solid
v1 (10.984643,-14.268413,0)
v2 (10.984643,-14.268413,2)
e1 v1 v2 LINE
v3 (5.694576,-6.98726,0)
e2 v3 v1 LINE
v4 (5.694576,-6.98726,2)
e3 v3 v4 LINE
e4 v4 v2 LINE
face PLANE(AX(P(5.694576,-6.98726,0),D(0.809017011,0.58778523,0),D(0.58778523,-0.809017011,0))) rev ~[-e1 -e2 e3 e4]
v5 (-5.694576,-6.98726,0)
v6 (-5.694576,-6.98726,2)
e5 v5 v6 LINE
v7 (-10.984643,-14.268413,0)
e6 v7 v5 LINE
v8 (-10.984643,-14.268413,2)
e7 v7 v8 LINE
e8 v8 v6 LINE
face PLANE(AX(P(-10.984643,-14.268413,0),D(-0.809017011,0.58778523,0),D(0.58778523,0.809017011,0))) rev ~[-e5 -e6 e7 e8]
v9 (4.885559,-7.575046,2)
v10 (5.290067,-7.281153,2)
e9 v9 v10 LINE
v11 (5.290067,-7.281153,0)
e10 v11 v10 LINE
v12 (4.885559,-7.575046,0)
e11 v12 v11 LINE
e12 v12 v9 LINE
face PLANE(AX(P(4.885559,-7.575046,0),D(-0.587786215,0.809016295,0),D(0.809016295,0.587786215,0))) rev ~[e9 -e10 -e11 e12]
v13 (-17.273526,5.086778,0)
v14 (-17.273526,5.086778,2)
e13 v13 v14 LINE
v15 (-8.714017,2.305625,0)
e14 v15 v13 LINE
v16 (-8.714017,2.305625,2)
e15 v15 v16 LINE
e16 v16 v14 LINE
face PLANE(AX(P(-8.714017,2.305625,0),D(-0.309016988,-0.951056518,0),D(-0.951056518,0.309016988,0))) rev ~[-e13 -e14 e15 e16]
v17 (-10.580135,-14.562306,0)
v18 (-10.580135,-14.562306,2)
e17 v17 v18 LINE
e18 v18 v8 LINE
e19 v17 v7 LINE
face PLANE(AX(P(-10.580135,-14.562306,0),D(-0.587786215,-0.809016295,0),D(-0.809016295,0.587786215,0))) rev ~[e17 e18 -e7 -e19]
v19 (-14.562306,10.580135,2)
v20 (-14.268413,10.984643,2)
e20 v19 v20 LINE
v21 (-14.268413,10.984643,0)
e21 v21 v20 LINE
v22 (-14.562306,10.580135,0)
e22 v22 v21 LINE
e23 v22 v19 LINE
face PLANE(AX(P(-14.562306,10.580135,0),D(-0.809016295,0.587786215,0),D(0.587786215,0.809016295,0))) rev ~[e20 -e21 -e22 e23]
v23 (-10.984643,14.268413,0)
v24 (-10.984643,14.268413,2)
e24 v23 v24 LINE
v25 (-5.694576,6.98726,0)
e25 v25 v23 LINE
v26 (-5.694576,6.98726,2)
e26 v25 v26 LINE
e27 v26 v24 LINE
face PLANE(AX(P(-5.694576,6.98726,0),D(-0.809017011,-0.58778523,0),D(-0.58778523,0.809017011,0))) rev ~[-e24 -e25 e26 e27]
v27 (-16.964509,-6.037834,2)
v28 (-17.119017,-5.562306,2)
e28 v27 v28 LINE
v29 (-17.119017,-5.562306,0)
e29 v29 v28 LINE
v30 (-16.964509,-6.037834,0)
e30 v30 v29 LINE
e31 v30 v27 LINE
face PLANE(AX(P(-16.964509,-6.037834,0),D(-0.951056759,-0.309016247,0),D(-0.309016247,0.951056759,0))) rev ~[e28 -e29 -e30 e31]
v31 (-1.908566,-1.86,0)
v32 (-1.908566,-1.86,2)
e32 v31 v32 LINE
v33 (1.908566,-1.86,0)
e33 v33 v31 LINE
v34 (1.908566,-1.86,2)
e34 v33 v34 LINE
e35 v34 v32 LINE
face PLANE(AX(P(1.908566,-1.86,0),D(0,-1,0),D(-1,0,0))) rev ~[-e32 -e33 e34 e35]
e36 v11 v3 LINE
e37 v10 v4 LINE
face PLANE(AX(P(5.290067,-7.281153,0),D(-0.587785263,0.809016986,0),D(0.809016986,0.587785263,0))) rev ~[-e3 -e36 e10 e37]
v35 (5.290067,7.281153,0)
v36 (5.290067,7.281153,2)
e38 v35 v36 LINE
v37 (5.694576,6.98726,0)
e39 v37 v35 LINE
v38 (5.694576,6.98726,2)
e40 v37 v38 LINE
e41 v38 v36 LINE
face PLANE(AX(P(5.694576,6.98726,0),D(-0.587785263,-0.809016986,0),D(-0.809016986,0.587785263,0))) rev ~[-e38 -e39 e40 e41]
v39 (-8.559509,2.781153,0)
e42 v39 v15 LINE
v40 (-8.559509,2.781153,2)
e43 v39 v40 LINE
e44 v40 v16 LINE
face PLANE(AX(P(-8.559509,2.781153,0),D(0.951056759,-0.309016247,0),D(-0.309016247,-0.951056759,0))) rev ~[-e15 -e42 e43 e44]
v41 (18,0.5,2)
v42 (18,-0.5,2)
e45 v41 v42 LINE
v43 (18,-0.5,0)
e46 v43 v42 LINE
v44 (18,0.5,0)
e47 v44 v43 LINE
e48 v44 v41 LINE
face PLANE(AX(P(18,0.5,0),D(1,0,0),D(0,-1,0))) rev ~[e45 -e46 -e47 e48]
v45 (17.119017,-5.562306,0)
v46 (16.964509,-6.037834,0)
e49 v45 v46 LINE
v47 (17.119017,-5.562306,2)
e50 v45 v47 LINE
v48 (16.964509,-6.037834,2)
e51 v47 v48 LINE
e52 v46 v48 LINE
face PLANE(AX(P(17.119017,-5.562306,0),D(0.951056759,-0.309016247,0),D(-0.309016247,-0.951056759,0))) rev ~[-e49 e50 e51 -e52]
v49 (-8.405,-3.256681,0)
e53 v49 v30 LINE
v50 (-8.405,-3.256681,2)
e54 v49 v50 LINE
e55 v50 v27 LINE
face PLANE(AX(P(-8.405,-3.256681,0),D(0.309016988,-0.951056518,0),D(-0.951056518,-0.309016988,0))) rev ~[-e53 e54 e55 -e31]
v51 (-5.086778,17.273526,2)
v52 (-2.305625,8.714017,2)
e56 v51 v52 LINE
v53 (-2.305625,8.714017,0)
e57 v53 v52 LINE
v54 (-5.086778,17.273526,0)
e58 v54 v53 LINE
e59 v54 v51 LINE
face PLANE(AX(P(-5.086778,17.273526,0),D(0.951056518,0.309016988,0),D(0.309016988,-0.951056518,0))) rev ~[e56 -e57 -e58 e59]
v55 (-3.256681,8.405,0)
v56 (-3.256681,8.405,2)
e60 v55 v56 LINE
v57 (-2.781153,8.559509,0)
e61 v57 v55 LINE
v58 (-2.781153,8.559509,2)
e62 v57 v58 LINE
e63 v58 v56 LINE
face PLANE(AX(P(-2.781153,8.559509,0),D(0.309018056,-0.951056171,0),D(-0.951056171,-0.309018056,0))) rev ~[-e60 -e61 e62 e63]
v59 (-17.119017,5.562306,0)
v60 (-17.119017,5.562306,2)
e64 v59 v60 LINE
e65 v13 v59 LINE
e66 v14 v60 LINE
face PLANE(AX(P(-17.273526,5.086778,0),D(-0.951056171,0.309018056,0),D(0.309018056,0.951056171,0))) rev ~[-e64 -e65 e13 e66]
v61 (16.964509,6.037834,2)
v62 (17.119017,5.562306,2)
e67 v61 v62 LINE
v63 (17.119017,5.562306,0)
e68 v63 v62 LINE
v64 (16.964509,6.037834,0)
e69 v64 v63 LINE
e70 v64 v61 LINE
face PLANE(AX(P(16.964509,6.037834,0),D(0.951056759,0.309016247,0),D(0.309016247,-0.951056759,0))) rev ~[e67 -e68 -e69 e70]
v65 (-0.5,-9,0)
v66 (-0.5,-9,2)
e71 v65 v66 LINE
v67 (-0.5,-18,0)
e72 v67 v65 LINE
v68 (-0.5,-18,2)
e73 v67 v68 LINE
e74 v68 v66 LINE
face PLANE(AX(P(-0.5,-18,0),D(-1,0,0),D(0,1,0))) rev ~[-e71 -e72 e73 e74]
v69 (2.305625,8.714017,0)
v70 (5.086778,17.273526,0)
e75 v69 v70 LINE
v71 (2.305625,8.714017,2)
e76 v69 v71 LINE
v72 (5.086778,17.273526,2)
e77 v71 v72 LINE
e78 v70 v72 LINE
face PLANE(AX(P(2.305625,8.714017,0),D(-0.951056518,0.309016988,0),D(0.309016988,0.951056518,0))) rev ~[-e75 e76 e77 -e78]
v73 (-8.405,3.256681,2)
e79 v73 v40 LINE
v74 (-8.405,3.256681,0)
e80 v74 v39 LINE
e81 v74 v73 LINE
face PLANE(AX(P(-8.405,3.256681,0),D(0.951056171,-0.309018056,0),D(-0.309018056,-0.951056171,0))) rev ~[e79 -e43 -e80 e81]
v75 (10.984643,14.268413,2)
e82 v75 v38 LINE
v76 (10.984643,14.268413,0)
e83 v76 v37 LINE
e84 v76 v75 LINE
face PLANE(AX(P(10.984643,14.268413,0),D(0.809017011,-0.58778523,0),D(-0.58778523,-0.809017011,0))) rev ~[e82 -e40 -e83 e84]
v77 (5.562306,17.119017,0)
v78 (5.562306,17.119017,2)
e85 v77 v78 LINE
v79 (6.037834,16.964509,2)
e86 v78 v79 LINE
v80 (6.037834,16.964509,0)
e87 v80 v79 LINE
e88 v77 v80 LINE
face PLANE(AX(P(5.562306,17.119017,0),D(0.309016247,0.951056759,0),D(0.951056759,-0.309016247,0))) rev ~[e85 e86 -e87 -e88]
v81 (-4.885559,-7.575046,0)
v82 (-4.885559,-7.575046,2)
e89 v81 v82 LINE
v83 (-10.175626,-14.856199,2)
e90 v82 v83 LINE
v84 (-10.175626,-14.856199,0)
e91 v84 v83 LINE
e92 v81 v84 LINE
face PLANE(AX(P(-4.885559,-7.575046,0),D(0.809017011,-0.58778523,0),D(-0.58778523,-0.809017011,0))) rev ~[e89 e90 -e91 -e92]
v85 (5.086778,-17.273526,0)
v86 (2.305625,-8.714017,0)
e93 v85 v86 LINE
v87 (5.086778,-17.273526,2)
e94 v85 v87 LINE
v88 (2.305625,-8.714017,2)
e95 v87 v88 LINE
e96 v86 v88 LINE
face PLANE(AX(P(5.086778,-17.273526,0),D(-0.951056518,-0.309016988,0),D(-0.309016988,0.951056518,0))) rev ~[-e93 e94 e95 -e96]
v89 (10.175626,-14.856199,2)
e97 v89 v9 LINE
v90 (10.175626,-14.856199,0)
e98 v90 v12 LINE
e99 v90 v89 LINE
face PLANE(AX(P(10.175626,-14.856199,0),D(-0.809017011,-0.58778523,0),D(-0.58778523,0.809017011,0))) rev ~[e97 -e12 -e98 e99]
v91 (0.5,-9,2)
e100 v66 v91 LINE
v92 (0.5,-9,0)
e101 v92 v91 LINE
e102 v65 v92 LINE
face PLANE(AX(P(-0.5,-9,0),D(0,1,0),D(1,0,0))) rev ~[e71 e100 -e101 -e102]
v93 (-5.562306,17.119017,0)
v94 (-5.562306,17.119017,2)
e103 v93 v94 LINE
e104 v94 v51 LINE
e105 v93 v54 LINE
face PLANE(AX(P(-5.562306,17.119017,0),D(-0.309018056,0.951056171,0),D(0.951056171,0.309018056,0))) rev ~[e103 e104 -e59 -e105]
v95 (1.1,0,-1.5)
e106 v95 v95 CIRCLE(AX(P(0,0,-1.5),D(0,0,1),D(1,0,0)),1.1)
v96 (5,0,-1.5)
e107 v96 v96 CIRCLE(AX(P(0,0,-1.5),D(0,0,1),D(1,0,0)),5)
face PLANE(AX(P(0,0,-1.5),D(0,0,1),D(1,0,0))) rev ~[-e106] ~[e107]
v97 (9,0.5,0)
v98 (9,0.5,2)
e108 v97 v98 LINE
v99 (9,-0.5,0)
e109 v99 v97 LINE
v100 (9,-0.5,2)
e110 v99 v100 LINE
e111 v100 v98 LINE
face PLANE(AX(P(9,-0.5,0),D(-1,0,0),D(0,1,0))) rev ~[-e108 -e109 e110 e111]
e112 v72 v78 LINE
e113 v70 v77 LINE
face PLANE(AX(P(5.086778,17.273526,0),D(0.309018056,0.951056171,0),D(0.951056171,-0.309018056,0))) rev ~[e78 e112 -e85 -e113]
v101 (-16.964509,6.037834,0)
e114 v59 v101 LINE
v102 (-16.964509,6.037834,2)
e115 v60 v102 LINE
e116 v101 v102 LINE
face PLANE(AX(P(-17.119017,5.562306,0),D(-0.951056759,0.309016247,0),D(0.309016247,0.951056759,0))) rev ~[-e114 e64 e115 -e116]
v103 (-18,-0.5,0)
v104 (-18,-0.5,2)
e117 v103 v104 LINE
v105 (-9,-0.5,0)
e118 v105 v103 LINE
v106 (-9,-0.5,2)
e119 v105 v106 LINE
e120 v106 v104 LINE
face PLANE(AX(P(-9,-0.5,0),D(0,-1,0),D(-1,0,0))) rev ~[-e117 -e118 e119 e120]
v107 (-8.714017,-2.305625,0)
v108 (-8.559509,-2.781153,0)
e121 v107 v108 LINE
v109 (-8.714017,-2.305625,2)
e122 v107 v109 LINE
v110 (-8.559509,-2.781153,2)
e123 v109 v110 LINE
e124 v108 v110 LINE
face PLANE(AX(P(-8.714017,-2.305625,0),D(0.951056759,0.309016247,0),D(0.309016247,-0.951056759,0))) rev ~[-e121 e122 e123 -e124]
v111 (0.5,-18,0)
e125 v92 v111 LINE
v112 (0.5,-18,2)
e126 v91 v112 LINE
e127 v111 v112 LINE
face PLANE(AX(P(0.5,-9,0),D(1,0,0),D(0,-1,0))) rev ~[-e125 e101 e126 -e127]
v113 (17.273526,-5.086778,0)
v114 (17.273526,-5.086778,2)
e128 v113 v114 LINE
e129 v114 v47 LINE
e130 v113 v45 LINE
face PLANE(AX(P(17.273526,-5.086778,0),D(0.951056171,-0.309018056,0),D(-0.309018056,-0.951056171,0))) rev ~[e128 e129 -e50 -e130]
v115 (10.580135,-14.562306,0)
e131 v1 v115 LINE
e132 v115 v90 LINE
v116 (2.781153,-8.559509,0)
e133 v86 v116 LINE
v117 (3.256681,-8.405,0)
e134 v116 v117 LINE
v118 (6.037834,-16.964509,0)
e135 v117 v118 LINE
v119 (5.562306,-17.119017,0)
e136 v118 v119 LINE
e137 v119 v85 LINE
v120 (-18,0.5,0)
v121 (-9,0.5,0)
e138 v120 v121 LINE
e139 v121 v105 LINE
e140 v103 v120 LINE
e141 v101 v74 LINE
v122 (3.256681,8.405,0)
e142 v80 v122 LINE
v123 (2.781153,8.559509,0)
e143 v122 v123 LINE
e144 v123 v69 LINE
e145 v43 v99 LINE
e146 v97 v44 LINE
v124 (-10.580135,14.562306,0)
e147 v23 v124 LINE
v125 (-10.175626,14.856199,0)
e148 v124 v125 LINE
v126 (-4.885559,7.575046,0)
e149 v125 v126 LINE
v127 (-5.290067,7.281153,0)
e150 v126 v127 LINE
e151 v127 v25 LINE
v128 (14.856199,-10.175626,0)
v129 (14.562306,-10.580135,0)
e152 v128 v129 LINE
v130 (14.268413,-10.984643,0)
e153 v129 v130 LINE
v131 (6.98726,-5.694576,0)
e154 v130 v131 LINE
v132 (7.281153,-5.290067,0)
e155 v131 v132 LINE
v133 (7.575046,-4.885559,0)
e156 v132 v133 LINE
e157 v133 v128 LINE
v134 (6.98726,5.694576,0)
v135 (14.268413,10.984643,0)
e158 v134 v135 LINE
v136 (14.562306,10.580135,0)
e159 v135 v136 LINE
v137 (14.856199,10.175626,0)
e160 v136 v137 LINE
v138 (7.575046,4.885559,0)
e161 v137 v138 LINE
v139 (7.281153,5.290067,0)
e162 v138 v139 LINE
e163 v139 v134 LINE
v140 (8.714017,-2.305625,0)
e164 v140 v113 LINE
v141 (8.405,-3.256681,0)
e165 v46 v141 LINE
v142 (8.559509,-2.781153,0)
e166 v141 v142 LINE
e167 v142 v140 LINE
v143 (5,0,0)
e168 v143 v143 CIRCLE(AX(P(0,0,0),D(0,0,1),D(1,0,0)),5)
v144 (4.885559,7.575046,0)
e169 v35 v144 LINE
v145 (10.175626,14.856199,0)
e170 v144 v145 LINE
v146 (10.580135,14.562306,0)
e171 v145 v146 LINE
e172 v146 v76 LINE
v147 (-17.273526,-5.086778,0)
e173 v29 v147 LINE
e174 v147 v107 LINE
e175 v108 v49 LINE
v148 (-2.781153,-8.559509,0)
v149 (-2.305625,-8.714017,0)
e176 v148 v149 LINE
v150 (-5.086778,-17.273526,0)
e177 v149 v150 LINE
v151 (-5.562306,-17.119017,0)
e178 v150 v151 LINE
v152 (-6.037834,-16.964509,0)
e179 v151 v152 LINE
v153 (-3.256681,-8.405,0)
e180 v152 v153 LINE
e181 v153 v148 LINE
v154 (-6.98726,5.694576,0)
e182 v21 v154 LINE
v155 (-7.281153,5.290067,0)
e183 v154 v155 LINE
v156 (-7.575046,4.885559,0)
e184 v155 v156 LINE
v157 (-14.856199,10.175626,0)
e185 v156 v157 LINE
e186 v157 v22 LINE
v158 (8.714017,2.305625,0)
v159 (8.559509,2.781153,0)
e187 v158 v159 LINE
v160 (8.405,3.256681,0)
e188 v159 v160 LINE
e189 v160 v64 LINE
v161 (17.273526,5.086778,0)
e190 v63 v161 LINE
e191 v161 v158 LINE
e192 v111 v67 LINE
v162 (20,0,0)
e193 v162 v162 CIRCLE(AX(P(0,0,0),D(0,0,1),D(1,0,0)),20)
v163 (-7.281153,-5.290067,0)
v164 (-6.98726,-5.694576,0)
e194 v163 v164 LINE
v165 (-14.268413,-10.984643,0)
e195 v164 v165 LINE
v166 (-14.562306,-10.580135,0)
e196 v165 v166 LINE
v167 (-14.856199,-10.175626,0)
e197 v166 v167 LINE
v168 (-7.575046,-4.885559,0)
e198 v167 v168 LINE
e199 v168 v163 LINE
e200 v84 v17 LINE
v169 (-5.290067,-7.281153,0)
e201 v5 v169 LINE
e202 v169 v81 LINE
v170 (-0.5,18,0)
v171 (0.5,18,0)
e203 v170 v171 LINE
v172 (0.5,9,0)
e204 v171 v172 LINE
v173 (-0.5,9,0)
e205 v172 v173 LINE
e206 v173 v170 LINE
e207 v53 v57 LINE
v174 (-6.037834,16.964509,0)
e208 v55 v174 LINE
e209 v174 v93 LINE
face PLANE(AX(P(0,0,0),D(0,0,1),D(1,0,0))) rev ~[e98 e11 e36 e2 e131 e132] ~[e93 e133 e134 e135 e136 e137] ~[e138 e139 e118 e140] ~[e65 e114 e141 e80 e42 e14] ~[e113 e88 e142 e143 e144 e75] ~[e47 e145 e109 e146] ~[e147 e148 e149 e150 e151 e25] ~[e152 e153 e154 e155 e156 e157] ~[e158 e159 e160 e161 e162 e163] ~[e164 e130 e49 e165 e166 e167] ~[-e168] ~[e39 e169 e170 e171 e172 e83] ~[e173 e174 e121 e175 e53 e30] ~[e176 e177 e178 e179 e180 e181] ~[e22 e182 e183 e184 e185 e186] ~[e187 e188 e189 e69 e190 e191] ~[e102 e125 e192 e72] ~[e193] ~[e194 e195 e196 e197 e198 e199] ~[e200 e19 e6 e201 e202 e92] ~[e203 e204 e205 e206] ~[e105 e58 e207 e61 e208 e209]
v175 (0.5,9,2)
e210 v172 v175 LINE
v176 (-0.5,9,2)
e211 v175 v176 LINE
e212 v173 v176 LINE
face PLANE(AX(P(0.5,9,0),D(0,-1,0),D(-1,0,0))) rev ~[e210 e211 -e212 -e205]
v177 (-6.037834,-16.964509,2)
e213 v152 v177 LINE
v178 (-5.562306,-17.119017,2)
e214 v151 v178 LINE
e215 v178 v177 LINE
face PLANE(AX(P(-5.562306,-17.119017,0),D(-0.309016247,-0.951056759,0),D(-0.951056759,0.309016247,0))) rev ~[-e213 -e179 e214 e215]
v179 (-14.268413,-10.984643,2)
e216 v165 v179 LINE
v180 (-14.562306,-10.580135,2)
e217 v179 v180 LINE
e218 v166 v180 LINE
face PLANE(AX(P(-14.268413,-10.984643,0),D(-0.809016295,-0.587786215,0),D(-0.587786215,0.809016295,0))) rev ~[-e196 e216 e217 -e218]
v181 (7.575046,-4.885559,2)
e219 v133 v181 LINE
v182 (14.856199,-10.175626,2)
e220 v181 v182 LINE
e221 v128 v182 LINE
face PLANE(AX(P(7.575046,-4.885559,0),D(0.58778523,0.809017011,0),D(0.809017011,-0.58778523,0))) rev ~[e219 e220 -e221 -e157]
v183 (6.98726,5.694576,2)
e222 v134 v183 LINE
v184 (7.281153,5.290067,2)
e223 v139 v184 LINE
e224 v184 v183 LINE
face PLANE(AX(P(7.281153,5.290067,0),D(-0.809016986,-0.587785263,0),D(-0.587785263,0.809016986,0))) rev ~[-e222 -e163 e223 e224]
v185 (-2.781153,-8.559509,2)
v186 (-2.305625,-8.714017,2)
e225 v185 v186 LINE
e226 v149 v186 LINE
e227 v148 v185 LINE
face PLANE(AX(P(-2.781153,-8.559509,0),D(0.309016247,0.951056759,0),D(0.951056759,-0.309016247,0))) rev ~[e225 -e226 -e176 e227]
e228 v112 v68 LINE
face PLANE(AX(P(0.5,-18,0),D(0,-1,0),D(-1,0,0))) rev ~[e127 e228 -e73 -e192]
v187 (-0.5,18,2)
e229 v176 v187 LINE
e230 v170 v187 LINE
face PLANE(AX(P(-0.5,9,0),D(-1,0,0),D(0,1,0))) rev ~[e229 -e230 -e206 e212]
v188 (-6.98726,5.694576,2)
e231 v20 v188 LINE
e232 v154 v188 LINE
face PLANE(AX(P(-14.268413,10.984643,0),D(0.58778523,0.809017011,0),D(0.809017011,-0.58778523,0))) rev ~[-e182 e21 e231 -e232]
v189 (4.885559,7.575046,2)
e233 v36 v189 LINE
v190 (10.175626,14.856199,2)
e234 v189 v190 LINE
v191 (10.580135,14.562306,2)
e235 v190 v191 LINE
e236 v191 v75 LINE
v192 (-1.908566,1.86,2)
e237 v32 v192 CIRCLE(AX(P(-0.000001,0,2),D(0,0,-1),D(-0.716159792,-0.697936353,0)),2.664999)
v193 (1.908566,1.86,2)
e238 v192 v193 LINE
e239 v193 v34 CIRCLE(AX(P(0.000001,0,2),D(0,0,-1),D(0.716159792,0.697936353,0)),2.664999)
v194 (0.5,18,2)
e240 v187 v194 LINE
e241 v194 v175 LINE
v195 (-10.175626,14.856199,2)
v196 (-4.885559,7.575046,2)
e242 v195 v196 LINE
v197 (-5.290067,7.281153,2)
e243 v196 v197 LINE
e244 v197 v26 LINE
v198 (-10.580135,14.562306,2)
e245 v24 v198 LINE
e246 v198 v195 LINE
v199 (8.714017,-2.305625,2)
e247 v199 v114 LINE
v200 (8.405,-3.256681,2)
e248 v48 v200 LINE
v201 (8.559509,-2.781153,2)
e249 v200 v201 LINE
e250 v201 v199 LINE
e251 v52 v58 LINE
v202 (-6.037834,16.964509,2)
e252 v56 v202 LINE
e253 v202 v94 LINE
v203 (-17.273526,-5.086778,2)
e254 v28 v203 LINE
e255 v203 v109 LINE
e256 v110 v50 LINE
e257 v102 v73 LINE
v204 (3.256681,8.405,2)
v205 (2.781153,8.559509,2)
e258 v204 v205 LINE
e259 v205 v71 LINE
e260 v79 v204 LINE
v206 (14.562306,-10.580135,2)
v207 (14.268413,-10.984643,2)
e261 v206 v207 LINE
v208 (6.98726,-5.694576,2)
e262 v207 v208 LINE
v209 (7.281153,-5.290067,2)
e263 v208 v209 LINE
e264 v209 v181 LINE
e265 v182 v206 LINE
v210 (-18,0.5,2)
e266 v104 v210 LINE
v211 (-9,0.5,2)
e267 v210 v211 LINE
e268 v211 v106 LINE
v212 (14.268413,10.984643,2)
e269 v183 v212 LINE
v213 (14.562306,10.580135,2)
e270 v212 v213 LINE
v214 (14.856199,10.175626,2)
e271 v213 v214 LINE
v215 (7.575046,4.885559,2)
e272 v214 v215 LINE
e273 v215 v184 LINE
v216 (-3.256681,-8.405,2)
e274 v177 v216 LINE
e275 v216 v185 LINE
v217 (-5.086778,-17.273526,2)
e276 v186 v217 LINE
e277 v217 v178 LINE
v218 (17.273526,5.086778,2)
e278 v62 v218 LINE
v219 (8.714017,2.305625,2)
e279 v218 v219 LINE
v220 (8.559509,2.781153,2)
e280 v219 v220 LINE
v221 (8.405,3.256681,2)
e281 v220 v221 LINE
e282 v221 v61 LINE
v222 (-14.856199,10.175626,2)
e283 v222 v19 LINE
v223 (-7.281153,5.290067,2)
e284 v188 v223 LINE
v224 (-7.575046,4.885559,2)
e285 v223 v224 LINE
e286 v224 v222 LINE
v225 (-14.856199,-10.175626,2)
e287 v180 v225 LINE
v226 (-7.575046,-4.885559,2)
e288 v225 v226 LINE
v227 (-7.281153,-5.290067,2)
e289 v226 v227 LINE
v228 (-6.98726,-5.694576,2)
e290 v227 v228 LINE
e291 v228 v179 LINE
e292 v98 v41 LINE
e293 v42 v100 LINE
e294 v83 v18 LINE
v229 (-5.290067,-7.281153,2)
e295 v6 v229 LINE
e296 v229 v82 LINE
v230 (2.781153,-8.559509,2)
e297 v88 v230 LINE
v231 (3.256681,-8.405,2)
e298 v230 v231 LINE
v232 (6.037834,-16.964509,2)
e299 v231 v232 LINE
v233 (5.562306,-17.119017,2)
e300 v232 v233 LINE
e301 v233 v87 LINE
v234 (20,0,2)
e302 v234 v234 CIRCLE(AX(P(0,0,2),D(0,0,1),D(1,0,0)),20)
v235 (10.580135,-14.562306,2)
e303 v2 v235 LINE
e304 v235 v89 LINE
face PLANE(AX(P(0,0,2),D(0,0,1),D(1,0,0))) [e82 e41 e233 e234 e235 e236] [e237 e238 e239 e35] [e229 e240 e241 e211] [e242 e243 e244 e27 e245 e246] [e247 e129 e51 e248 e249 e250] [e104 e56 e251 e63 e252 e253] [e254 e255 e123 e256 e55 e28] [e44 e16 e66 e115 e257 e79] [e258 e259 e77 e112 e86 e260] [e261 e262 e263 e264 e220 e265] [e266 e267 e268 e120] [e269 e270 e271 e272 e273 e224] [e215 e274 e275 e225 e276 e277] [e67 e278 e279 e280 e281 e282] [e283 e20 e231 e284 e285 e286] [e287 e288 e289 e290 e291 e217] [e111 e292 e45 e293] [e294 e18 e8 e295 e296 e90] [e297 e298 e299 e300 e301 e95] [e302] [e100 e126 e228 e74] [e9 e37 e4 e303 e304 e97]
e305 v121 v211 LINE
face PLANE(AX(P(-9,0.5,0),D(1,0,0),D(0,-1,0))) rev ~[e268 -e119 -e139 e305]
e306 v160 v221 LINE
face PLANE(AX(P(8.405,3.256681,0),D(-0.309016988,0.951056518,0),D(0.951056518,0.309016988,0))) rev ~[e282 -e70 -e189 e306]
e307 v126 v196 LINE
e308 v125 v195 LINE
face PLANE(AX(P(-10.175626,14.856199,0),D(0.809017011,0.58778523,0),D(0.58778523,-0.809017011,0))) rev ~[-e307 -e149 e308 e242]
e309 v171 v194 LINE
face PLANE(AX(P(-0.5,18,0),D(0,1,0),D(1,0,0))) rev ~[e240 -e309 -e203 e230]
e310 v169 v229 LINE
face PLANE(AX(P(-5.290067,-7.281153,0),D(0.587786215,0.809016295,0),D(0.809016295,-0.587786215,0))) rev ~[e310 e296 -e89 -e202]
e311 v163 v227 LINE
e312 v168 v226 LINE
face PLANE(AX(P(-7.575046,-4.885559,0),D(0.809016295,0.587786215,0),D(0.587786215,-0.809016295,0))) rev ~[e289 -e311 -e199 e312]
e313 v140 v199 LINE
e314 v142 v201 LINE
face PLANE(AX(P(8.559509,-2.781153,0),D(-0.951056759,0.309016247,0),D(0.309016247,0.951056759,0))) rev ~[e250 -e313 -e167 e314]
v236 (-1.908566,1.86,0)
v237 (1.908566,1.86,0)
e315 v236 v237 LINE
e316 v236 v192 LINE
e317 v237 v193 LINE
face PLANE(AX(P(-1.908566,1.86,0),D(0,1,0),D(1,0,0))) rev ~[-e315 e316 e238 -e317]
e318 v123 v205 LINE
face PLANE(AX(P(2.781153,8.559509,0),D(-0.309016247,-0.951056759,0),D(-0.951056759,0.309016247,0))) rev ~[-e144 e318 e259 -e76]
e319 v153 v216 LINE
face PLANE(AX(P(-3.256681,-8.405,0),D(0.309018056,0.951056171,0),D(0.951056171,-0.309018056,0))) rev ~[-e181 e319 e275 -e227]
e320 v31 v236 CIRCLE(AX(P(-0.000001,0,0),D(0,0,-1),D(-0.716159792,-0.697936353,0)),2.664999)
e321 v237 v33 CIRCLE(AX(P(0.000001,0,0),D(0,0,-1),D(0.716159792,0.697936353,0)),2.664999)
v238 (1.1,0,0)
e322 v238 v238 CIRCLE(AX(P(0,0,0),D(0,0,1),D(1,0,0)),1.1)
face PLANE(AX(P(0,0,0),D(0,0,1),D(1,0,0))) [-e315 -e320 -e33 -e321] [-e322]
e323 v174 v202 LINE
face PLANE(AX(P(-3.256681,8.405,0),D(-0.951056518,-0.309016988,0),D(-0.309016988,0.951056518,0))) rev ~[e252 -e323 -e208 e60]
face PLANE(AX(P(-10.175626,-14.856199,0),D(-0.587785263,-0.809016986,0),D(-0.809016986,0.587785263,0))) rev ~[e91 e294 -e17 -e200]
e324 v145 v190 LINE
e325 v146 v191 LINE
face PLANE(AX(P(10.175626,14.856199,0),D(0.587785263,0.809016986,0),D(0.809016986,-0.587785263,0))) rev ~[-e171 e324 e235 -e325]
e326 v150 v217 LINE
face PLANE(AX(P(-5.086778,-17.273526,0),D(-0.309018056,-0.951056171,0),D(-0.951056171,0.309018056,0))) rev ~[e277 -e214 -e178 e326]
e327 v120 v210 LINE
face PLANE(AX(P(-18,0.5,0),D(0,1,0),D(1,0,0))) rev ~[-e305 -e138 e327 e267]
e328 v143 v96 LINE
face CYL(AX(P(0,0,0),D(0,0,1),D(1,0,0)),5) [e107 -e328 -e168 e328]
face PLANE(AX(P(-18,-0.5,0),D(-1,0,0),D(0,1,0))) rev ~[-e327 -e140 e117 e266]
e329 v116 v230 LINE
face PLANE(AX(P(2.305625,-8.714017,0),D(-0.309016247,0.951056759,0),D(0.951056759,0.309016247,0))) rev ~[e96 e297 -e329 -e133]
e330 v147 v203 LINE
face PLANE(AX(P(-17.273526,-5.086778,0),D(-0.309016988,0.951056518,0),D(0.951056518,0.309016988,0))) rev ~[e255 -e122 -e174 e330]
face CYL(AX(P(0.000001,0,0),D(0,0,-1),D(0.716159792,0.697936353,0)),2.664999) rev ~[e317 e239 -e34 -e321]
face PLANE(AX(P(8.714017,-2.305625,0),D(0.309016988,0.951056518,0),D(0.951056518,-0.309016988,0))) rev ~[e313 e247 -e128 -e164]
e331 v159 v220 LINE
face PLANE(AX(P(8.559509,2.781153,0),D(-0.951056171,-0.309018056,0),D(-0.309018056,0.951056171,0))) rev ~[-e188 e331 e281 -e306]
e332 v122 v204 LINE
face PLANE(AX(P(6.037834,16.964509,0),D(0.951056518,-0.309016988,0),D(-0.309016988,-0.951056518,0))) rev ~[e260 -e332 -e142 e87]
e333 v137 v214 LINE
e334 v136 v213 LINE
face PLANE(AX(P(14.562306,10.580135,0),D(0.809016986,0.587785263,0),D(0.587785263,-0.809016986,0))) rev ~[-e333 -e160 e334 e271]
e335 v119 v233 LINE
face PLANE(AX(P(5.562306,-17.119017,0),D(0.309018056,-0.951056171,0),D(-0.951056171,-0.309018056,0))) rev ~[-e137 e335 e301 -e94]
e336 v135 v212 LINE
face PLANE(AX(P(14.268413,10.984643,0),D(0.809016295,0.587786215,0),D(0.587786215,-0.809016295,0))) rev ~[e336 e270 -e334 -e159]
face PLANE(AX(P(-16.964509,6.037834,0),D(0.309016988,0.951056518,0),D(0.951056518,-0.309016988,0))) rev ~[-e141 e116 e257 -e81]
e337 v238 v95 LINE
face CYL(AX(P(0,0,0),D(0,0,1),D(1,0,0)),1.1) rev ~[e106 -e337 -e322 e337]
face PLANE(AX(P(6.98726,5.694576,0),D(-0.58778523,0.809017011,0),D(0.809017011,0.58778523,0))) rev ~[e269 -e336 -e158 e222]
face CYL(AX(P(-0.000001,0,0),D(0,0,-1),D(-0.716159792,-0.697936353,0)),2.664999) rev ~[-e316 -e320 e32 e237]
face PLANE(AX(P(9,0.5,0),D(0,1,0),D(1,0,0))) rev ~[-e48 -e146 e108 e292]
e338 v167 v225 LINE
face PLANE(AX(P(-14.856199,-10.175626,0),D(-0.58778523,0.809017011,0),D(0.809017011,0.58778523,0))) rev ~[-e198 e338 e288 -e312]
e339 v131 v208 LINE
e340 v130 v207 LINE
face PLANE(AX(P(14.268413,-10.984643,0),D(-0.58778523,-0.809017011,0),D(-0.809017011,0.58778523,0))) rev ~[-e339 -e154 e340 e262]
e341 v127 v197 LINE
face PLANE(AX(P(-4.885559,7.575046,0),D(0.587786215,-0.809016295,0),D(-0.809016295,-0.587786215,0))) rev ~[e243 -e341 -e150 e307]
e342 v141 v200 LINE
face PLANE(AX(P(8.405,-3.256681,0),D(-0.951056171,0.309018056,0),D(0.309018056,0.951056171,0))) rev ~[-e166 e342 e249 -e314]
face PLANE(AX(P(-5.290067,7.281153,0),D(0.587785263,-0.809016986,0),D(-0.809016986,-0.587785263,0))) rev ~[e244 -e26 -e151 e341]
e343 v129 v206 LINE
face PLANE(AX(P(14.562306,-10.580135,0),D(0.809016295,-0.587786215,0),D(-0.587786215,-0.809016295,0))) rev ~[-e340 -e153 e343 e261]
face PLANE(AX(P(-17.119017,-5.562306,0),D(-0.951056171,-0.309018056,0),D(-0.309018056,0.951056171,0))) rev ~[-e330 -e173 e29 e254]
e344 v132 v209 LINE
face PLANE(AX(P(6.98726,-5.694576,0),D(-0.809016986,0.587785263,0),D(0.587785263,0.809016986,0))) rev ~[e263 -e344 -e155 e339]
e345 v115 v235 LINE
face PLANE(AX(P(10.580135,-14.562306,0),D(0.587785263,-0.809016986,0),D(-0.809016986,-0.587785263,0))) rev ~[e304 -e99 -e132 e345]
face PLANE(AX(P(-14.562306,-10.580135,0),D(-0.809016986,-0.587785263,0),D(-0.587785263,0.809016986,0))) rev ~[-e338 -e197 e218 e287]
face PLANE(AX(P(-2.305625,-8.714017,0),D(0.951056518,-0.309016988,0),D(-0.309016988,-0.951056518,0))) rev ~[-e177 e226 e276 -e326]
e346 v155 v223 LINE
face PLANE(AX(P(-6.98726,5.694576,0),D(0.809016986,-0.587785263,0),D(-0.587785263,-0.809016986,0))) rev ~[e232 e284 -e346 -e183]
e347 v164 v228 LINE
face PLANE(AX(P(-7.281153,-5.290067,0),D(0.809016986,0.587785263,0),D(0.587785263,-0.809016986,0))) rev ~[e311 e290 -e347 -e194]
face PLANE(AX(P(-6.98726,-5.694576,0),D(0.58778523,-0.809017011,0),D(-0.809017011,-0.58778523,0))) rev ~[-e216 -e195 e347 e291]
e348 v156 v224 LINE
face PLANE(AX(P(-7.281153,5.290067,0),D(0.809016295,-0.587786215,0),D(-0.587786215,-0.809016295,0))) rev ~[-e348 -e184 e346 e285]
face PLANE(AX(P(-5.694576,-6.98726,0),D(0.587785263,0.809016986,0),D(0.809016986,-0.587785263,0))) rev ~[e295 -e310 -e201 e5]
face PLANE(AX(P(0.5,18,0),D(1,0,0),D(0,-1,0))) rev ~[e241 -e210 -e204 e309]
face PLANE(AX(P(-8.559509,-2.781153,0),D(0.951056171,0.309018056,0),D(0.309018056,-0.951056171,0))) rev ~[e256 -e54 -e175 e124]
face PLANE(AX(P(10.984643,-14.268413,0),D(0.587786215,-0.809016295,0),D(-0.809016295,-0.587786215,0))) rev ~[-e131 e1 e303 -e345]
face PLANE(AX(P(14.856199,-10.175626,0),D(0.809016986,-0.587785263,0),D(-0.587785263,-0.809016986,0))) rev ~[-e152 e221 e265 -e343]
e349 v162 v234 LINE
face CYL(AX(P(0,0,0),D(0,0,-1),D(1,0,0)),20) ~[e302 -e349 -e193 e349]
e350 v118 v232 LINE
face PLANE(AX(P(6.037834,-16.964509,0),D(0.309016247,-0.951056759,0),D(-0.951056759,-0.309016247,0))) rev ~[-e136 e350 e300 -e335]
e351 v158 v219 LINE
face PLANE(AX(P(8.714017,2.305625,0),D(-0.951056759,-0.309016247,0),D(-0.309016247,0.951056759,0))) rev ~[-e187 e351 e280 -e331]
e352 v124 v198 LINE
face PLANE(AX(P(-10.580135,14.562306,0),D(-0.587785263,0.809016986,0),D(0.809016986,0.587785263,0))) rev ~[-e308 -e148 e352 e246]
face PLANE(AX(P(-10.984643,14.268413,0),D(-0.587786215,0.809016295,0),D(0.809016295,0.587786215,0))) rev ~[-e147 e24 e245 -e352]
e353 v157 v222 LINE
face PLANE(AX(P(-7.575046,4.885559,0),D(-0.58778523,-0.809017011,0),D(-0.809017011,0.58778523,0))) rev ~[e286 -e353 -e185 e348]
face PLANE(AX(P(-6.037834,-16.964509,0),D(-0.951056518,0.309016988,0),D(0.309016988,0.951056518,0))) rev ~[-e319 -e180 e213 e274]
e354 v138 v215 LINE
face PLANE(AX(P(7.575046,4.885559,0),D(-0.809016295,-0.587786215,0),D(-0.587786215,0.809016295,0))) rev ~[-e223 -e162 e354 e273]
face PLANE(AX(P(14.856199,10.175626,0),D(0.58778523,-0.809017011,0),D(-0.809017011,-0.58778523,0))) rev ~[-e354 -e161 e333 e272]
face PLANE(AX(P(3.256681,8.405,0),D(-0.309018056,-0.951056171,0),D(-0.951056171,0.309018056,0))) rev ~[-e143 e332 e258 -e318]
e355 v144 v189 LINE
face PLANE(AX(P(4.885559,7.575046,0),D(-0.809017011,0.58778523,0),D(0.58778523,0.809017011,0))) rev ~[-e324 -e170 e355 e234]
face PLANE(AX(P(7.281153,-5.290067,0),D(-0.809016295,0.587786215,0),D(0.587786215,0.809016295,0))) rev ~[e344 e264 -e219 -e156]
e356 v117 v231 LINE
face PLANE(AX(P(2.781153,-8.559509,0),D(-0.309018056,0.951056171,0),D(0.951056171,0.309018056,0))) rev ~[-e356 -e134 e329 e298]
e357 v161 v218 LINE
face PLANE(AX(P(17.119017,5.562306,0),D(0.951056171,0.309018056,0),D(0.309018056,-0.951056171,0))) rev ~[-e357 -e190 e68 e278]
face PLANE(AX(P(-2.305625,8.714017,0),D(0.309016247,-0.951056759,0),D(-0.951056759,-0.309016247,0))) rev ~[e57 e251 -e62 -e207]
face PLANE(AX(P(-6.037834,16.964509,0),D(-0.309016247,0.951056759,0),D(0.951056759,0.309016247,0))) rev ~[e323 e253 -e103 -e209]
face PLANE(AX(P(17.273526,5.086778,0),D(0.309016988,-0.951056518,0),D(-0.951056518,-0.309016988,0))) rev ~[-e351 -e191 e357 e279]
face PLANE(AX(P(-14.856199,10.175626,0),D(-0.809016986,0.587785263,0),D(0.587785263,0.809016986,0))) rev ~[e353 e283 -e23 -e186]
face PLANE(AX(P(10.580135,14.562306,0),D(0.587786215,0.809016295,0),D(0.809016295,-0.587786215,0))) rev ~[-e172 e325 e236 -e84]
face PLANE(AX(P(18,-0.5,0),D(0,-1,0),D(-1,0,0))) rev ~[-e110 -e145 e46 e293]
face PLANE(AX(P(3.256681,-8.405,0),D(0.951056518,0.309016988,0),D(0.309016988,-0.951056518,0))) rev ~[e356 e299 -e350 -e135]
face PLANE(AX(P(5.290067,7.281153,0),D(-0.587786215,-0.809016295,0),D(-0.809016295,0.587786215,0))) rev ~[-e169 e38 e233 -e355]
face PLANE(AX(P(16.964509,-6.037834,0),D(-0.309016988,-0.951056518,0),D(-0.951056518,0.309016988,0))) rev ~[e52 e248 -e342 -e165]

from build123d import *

# Parameters (mm, degrees)
F0_R     = 20
F1_DEPTH = 2
F2_R     = 5
F2_R_2   = 1.1
F3_DEPTH = 1.5


with BuildPart() as f1:
    # F0 (on Top) → F1 (new body)
    with BuildSketch(Plane.XY):
        Circle(F0_R)
        Polygon((-10.984643, -14.268413), (-5.694576, -6.98726), (-5.290067, -7.281153), (-4.885559, -7.575046), (-10.175626, -14.856199), (-10.580135, -14.562306), align=None, mode=Mode.SUBTRACT)
        Polygon((-6.037834, -16.964509), (-3.256681, -8.405), (-2.781153, -8.559509), (-2.305625, -8.714017), (-5.086778, -17.273526), (-5.562306, -17.119017), align=None, mode=Mode.SUBTRACT)
        Polygon((-14.856199, -10.175626), (-7.575046, -4.885559), (-7.281153, -5.290067), (-6.98726, -5.694576), (-14.268413, -10.984643), (-14.562306, -10.580135), align=None, mode=Mode.SUBTRACT)
        Polygon((-17.273526, -5.086778), (-8.714017, -2.305625), (-8.559509, -2.781153), (-8.405, -3.256681), (-16.964509, -6.037834), (-17.119017, -5.562306), align=None, mode=Mode.SUBTRACT)
        Polygon((-0.5, -9), (0, -9), (0.5, -9), (0.5, -18), (0, -18), (-0.5, -18), align=None, mode=Mode.SUBTRACT)
        Polygon((5.086778, -17.273526), (2.305625, -8.714017), (2.781153, -8.559509), (3.256681, -8.405), (6.037834, -16.964509), (5.562306, -17.119017), align=None, mode=Mode.SUBTRACT)
        Polygon((10.175626, -14.856199), (4.885559, -7.575046), (5.290067, -7.281153), (5.694576, -6.98726), (10.984643, -14.268413), (10.580135, -14.562306), align=None, mode=Mode.SUBTRACT)
        Polygon((14.268413, -10.984643), (6.98726, -5.694576), (7.281153, -5.290067), (7.575046, -4.885559), (14.856199, -10.175626), (14.562306, -10.580135), align=None, mode=Mode.SUBTRACT)
        Polygon((16.964509, -6.037834), (8.405, -3.256681), (8.559509, -2.781153), (8.714017, -2.305625), (17.273526, -5.086778), (17.119017, -5.562306), align=None, mode=Mode.SUBTRACT)
        Polygon((-18, 0.5), (-9, 0.5), (-9, 0), (-9, -0.5), (-18, -0.5), (-18, 0), align=None, mode=Mode.SUBTRACT)
        Polygon((-16.964509, 6.037834), (-8.405, 3.256681), (-8.559509, 2.781153), (-8.714017, 2.305625), (-17.273526, 5.086778), (-17.119017, 5.562306), align=None, mode=Mode.SUBTRACT)
        Polygon((-14.268413, 10.984643), (-6.98726, 5.694576), (-7.281153, 5.290067), (-7.575046, 4.885559), (-14.856199, 10.175626), (-14.562306, 10.580135), align=None, mode=Mode.SUBTRACT)
        Polygon((-10.175626, 14.856199), (-4.885559, 7.575046), (-5.290067, 7.281153), (-5.694576, 6.98726), (-10.984643, 14.268413), (-10.580135, 14.562306), align=None, mode=Mode.SUBTRACT)
        Polygon((-5.086778, 17.273526), (-2.305625, 8.714017), (-2.781153, 8.559509), (-3.256681, 8.405), (-6.037834, 16.964509), (-5.562306, 17.119017), align=None, mode=Mode.SUBTRACT)
        with BuildLine():
            ThreePointArc((-1.908566, -1.86), (-2.665, 0), (-1.908566, 1.86))
            Line((-1.908566, 1.86), (1.908566, 1.86))
            ThreePointArc((1.908566, 1.86), (2.665, 0), (1.908566, -1.86))
            Line((1.908566, -1.86), (-1.908566, -1.86))
        make_face(mode=Mode.SUBTRACT)
        Polygon((18, -0.5), (9, -0.5), (9, 0), (9, 0.5), (18, 0.5), (18, 0), align=None, mode=Mode.SUBTRACT)
        Polygon((17.273526, 5.086778), (8.714017, 2.305625), (8.559509, 2.781153), (8.405, 3.256681), (16.964509, 6.037834), (17.119017, 5.562306), align=None, mode=Mode.SUBTRACT)
        Polygon((14.856199, 10.175626), (7.575046, 4.885559), (7.281153, 5.290067), (6.98726, 5.694576), (14.268413, 10.984643), (14.562306, 10.580135), align=None, mode=Mode.SUBTRACT)
        Polygon((0.5, 18), (0.5, 9), (0, 9), (-0.5, 9), (-0.5, 18), (0, 18), align=None, mode=Mode.SUBTRACT)
        Polygon((6.037834, 16.964509), (3.256681, 8.405), (2.781153, 8.559509), (2.305625, 8.714017), (5.086778, 17.273526), (5.562306, 17.119017), align=None, mode=Mode.SUBTRACT)
        Polygon((10.984643, 14.268413), (5.694576, 6.98726), (5.290067, 7.281153), (4.885559, 7.575046), (10.175626, 14.856199), (10.580135, 14.562306), align=None, mode=Mode.SUBTRACT)
    extrude(amount=F1_DEPTH)

    # F2 (on Top) → F3 (join)
    with BuildSketch(Plane.XY):
        Circle(F2_R)
        Circle(F2_R_2, mode=Mode.SUBTRACT)
    extrude(amount=-F3_DEPTH)


solid = f1.part
